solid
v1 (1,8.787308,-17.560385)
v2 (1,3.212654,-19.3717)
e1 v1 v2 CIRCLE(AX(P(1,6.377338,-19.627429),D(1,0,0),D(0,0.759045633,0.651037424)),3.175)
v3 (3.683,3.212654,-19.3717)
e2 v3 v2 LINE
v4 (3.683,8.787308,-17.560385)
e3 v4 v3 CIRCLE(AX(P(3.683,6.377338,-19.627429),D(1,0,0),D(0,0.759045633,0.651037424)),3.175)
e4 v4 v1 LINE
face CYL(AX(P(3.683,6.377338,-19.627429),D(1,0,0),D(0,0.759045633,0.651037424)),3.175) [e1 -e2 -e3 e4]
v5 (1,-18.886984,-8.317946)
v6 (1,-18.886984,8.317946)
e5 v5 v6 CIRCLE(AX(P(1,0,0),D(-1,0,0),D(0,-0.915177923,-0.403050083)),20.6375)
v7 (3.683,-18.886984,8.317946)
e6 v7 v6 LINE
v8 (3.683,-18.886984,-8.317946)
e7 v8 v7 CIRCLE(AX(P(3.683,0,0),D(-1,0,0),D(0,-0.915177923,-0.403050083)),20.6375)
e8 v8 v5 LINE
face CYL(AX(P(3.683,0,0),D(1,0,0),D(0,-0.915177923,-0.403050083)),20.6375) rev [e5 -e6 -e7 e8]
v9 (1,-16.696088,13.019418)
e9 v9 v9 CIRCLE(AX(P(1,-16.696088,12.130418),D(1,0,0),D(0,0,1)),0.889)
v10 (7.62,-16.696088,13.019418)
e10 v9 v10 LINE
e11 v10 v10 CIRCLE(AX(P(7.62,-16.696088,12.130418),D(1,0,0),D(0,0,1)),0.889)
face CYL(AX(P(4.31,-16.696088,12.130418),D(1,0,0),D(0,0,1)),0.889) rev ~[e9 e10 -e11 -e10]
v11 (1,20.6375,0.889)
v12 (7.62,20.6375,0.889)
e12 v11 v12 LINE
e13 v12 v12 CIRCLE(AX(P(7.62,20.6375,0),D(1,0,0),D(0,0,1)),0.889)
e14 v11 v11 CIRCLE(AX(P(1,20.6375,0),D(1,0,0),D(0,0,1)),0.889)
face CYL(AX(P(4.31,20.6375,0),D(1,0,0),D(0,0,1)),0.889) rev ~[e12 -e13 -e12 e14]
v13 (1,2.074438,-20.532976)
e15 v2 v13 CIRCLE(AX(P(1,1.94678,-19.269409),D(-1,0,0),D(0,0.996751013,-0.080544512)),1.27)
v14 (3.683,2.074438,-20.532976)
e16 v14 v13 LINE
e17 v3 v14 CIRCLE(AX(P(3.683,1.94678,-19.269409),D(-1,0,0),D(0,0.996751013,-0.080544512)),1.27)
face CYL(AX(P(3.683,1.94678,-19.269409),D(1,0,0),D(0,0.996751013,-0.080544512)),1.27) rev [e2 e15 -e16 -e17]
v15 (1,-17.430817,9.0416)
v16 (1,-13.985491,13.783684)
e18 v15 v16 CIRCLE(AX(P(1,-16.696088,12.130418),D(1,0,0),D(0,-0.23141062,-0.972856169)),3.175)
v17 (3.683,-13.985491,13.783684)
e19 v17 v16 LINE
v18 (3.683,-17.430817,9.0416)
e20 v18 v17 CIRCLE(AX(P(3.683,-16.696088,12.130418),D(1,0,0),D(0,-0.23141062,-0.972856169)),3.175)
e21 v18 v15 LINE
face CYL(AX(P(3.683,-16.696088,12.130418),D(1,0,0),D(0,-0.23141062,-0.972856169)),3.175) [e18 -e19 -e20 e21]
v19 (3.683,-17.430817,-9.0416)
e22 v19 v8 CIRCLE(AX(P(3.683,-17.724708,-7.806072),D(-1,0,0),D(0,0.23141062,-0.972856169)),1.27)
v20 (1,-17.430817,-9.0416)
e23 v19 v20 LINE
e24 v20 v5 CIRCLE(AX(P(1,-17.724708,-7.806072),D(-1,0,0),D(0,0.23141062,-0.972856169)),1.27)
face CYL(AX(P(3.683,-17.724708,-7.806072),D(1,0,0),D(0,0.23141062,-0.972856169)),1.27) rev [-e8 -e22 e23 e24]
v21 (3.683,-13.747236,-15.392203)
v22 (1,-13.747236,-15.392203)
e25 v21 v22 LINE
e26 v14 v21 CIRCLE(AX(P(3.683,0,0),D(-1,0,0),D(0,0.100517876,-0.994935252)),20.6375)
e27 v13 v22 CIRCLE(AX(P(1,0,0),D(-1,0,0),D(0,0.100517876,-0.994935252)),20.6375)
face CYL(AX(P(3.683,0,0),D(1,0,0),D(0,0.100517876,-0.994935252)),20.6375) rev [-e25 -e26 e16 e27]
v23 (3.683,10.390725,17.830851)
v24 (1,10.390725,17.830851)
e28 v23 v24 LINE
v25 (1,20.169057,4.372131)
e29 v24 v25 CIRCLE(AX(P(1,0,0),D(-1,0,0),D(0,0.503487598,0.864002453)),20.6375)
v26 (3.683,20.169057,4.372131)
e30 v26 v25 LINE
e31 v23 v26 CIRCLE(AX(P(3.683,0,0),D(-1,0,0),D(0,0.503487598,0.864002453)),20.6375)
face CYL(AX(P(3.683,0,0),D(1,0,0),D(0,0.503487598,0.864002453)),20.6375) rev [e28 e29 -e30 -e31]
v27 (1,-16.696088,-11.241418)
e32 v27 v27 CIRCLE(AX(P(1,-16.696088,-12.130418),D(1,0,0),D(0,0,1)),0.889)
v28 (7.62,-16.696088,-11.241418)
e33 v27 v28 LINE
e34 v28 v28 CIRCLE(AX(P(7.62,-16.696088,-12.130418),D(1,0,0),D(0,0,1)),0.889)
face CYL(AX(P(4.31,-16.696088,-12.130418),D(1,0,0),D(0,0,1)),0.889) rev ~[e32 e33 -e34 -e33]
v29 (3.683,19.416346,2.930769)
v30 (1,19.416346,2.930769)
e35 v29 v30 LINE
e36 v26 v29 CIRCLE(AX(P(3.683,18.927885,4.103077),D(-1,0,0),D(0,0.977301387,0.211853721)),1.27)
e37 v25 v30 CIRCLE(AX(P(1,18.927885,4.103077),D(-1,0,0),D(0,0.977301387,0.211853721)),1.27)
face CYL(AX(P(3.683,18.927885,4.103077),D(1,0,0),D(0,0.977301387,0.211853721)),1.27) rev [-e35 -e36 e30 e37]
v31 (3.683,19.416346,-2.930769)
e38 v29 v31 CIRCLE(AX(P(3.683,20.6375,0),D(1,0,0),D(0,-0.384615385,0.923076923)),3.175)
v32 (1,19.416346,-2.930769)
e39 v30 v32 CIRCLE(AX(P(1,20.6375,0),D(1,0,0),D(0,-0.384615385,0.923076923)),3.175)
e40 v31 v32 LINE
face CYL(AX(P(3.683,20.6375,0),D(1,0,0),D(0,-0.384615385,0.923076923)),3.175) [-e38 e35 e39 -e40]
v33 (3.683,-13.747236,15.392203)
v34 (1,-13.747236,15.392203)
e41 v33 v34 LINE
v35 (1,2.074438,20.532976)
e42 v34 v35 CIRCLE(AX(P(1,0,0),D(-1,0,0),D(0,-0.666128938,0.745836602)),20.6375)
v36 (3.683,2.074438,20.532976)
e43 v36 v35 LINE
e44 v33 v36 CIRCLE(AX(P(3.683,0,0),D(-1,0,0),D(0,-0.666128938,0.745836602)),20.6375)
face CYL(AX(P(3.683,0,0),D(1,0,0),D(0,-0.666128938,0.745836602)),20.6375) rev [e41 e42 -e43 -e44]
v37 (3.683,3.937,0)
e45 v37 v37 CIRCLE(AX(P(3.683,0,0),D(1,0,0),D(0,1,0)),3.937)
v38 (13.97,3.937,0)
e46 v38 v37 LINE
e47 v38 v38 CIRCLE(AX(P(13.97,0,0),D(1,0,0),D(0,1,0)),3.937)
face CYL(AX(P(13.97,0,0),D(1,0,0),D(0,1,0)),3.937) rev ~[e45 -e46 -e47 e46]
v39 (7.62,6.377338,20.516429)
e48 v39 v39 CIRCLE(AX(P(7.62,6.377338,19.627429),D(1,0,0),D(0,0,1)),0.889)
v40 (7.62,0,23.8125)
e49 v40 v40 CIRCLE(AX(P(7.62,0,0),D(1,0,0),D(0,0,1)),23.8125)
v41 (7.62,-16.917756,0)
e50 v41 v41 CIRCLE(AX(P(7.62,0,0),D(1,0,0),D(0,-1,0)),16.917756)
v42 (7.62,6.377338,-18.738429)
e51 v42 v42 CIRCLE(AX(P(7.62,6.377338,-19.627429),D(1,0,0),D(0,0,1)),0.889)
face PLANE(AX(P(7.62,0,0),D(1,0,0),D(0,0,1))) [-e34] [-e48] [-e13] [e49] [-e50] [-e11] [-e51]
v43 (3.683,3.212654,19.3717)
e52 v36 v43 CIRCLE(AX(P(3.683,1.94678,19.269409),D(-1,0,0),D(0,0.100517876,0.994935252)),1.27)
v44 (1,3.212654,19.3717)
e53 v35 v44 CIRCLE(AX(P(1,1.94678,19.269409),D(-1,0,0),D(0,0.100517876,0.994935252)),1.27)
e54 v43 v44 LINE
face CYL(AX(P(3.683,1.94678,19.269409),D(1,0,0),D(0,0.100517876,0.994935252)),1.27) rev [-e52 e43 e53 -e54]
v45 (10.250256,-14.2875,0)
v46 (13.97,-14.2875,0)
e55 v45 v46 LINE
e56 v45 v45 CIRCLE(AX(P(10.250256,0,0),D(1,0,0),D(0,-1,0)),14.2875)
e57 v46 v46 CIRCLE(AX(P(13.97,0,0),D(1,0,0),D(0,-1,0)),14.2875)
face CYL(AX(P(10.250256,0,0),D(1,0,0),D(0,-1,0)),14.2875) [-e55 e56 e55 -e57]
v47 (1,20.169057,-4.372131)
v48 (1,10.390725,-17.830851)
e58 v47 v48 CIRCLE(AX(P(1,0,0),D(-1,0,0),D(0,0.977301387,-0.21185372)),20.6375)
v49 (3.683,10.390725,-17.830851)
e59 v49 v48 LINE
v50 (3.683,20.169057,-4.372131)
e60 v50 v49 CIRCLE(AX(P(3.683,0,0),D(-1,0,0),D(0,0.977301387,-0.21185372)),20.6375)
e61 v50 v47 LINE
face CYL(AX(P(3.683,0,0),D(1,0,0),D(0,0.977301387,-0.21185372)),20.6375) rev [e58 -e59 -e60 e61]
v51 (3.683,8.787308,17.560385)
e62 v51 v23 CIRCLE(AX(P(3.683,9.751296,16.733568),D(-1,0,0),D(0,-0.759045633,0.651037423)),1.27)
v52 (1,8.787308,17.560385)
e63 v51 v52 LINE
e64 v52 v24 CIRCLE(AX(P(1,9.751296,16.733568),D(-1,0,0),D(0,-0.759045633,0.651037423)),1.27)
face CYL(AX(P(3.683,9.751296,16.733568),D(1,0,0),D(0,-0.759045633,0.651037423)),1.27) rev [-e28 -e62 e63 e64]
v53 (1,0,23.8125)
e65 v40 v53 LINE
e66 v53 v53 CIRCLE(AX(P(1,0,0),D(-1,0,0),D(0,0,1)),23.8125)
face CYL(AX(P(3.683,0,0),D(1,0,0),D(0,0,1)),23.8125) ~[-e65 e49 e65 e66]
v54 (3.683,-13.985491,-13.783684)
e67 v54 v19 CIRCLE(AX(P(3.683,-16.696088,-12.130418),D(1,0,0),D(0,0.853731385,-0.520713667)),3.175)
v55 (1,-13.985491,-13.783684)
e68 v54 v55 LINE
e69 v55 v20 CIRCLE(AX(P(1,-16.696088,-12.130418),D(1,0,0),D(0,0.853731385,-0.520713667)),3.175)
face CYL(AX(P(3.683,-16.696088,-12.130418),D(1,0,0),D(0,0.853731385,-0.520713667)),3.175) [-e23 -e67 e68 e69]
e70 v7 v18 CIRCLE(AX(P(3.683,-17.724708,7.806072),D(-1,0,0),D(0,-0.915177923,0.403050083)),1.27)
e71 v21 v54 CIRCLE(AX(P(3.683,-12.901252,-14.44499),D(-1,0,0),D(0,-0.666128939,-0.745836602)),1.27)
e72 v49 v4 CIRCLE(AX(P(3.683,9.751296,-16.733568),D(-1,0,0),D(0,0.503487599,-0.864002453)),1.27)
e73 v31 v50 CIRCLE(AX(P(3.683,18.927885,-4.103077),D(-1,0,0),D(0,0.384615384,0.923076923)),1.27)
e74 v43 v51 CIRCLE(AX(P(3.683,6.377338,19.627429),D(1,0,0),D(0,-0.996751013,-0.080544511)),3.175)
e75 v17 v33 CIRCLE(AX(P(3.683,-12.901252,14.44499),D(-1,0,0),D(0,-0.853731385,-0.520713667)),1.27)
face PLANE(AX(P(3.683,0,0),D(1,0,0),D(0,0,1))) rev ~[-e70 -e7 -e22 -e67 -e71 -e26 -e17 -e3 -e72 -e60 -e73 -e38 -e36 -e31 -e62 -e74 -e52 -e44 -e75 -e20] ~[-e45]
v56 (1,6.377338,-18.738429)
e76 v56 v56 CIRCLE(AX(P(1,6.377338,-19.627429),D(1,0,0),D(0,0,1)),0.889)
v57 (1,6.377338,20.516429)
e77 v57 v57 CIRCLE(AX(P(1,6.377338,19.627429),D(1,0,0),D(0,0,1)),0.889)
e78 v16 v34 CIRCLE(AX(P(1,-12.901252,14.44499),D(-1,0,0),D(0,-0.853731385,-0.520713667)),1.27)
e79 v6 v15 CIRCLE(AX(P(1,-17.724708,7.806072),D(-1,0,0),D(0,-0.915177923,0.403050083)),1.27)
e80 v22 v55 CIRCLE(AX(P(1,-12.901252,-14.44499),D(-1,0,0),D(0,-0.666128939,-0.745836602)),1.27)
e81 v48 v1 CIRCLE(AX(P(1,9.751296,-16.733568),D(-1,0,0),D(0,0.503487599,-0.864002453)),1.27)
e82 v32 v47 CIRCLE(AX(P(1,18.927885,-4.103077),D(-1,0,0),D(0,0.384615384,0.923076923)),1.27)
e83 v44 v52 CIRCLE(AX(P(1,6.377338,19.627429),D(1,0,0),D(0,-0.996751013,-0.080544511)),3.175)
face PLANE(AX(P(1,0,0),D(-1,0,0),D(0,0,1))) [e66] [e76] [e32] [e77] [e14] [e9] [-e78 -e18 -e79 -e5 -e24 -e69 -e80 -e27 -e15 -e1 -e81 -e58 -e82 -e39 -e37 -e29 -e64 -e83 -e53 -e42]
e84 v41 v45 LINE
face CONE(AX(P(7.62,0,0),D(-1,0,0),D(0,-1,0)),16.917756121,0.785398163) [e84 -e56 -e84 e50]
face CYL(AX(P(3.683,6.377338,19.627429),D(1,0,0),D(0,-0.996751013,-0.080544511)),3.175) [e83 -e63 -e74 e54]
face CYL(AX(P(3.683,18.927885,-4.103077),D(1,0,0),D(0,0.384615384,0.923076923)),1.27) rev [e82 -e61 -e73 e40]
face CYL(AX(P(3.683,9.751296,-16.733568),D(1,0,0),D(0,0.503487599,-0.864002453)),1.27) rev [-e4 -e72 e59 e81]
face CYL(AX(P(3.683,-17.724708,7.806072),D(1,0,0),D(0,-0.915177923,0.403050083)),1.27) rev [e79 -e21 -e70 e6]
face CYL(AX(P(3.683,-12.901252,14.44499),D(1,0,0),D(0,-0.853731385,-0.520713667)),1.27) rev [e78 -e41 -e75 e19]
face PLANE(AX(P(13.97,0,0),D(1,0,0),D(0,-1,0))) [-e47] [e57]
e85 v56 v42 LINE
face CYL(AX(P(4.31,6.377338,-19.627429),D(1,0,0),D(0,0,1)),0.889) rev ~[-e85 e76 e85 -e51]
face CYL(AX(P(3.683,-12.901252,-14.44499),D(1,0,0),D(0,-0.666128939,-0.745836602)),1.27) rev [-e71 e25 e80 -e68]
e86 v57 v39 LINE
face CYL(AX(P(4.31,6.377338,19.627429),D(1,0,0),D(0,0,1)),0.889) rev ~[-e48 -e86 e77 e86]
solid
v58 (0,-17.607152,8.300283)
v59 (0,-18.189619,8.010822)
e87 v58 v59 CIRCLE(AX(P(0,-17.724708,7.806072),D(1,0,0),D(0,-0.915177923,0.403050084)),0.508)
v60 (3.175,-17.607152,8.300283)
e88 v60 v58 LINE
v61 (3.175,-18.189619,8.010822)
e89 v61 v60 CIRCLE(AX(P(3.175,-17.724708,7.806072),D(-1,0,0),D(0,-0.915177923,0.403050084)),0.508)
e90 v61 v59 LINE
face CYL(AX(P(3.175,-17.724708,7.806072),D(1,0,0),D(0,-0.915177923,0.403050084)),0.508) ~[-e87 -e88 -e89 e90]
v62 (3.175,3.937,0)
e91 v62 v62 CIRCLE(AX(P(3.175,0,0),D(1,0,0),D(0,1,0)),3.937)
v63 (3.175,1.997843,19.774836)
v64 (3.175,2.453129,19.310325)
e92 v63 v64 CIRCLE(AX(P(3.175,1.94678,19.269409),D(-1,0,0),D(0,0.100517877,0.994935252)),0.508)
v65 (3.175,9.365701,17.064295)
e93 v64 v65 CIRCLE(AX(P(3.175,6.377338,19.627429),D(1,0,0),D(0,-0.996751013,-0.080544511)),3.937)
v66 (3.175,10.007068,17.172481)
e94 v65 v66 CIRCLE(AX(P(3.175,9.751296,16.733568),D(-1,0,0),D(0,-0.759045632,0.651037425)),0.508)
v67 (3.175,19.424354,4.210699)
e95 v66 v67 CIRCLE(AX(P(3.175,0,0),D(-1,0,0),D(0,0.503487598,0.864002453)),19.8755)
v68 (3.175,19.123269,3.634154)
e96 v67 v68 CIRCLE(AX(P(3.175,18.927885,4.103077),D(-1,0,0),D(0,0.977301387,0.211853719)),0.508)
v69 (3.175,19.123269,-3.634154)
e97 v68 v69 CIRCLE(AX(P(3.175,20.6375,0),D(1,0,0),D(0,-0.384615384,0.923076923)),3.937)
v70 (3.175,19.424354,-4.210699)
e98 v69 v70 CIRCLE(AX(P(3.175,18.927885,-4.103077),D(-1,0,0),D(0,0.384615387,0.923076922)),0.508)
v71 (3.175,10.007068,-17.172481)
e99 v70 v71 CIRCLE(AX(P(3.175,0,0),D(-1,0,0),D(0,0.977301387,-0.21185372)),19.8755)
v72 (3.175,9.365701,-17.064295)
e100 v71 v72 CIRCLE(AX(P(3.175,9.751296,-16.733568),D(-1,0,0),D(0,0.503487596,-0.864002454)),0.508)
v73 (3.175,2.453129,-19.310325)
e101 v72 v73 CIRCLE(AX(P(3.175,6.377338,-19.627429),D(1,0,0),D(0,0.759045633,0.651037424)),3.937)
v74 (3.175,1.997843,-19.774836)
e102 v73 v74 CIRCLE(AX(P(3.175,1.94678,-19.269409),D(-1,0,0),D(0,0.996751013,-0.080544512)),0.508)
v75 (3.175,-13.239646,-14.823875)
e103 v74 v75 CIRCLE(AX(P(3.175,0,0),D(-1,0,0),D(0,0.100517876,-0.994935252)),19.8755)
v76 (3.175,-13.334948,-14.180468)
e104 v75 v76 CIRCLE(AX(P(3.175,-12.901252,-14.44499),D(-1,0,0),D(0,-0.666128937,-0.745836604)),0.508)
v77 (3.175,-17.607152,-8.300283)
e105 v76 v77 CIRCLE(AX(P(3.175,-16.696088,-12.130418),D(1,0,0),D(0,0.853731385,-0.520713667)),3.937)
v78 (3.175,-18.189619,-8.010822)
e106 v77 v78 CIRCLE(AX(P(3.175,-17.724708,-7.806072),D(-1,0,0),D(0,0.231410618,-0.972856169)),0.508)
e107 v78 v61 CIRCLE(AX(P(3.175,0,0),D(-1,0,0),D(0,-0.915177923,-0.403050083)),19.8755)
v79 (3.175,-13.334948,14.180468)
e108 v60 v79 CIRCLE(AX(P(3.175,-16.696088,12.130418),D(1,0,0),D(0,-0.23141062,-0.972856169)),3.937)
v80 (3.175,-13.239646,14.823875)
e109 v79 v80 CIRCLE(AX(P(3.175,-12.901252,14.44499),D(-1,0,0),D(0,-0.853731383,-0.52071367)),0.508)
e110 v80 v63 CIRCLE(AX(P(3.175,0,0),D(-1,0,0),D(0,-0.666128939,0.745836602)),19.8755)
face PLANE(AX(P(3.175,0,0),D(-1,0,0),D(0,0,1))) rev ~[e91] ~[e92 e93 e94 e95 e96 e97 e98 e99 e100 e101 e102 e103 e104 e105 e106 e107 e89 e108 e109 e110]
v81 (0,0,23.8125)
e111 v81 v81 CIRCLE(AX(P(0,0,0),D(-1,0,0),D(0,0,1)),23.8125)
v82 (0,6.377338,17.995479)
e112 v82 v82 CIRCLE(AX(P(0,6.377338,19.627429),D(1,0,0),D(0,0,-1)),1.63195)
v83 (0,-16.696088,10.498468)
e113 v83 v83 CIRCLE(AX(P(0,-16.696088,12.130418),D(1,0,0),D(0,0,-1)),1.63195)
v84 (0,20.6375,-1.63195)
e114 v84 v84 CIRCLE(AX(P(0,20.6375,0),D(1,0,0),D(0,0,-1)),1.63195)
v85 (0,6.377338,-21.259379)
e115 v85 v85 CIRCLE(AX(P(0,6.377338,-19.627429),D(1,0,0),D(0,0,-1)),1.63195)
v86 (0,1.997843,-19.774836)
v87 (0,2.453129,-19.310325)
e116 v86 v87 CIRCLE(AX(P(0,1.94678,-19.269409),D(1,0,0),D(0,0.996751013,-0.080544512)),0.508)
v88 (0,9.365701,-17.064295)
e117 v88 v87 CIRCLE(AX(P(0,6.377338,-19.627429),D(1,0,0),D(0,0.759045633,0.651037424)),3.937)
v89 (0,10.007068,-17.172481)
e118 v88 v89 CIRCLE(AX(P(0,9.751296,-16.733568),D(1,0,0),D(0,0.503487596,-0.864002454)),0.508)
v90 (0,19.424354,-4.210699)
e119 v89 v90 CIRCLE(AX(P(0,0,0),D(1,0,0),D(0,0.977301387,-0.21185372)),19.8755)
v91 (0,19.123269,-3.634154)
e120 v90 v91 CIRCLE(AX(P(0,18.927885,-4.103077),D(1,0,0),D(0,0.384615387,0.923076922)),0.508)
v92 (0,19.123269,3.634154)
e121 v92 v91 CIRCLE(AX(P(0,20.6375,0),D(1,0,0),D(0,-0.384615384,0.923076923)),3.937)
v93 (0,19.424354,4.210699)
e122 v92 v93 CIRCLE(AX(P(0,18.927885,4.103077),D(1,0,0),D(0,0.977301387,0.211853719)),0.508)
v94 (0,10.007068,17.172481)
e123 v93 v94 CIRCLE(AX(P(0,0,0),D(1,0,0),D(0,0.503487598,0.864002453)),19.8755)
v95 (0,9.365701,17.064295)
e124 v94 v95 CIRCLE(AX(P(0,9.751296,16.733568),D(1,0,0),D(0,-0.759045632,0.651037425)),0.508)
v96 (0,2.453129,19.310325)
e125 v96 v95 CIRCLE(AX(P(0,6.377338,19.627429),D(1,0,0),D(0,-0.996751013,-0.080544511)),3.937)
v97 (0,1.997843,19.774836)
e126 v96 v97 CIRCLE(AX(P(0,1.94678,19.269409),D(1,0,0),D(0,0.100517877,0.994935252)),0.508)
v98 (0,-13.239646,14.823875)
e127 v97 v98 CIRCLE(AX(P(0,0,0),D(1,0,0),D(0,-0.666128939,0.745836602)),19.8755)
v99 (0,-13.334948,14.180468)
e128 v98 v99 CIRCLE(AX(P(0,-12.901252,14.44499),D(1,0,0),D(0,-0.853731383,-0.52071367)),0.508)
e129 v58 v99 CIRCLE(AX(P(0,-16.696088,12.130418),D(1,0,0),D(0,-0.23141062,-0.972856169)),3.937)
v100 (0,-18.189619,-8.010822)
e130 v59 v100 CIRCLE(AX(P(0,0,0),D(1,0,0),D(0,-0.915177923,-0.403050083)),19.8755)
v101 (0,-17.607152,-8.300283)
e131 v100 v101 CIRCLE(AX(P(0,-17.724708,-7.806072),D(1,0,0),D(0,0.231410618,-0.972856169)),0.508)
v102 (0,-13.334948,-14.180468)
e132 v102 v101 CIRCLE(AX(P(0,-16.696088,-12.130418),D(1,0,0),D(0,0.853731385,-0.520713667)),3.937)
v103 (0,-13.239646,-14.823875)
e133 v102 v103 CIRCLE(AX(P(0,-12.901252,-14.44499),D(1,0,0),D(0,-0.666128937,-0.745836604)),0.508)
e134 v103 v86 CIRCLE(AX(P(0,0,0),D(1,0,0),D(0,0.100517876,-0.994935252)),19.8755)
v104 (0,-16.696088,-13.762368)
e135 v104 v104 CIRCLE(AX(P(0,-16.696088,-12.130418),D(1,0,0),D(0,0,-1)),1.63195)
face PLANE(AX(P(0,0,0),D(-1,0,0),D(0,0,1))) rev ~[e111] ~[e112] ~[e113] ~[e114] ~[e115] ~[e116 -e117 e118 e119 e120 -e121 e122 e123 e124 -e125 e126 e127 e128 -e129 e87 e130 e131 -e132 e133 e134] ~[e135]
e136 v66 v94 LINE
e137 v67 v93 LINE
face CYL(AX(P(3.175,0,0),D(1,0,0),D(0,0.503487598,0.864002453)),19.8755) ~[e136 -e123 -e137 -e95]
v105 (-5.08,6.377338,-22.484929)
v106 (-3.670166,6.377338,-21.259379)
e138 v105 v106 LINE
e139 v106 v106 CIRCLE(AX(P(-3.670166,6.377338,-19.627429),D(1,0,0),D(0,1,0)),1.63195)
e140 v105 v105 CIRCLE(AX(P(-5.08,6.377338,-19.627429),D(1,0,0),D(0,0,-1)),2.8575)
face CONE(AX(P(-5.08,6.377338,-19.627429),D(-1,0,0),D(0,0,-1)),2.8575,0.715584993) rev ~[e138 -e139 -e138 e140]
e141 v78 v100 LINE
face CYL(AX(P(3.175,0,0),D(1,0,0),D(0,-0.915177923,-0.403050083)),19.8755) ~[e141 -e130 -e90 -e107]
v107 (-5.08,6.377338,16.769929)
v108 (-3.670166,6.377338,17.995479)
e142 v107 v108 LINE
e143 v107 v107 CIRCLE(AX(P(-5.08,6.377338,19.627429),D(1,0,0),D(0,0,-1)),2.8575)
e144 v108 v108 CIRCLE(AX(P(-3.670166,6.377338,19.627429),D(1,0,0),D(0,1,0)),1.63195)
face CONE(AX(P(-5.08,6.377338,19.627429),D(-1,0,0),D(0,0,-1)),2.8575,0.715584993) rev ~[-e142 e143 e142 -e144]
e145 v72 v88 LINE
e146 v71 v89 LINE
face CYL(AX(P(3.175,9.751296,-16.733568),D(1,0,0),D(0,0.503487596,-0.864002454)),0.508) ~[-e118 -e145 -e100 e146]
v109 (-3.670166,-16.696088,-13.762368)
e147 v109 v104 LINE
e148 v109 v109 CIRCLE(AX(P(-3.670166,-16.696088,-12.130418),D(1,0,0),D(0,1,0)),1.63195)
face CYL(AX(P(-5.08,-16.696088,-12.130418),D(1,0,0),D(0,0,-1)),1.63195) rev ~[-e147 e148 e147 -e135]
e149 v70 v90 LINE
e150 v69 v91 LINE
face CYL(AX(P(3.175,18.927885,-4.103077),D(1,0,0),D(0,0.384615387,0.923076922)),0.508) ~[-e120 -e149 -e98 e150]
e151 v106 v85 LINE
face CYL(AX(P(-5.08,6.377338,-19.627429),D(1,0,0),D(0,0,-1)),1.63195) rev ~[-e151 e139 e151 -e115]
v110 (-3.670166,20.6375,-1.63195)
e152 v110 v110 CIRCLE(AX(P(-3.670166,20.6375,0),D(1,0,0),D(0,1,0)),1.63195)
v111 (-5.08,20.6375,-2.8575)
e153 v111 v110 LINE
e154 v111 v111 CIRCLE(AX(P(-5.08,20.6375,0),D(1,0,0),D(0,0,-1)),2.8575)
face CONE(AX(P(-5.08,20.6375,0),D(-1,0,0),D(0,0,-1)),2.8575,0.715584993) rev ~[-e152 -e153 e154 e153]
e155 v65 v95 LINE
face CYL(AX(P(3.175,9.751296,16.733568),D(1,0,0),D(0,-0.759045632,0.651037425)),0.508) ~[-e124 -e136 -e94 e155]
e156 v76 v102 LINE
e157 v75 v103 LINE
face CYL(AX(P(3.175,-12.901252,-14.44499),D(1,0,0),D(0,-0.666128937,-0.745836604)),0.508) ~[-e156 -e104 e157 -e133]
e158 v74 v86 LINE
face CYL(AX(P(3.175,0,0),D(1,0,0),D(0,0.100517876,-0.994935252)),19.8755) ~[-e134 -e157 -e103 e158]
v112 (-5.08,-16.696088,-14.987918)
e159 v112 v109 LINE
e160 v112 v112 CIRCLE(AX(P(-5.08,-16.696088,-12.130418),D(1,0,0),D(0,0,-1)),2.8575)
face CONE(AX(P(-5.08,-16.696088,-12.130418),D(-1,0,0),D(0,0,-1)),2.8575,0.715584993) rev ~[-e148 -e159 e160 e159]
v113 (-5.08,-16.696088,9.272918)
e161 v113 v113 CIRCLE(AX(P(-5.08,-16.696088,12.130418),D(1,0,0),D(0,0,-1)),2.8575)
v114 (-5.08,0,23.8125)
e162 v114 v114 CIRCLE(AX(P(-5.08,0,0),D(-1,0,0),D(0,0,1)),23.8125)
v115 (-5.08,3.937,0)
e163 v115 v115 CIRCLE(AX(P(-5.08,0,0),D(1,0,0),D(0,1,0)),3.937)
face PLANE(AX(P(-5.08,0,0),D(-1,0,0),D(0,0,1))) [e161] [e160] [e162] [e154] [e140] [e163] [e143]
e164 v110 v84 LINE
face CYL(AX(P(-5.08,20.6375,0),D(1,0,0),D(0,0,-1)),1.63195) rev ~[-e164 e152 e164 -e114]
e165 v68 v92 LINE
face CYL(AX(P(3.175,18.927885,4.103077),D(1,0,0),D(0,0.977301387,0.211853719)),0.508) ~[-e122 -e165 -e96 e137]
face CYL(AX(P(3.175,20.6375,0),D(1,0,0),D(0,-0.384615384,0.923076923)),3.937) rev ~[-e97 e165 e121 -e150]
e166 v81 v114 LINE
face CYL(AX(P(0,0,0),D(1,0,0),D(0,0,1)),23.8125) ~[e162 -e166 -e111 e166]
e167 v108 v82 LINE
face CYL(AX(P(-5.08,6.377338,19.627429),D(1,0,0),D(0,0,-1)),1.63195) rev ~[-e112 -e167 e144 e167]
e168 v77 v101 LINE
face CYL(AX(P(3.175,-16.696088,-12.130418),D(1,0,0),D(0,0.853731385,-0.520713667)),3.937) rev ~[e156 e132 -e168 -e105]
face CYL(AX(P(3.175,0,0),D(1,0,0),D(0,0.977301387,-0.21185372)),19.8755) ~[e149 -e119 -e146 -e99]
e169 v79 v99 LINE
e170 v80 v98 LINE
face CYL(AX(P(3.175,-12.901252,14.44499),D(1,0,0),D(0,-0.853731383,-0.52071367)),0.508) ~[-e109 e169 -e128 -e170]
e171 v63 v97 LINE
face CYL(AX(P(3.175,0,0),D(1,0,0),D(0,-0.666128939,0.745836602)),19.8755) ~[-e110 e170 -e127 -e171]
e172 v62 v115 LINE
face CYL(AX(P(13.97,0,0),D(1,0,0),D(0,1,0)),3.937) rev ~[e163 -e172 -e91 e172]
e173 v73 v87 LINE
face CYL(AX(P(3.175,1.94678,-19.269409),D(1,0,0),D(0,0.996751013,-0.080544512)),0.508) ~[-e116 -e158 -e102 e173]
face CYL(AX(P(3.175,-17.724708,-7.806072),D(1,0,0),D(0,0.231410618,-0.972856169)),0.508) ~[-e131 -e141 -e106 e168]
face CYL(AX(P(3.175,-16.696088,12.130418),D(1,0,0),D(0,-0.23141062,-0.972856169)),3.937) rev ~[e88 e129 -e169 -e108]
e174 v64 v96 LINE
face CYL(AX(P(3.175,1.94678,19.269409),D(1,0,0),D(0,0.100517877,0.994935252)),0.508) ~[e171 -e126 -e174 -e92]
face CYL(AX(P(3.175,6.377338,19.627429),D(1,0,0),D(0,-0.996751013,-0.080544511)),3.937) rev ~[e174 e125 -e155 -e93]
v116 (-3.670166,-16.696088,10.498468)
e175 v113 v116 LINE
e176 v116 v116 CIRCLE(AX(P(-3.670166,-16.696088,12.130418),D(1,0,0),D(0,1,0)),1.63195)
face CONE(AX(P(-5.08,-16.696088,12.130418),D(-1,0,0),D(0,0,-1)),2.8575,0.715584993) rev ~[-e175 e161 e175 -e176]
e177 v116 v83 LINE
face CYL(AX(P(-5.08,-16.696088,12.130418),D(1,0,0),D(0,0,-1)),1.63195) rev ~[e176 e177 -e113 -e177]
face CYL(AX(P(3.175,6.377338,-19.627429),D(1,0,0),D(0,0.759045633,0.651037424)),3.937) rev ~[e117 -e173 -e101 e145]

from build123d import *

# Parameters (mm, degrees)
SKETCH2_R                                      = 23.8125
SKETCH2_R_2                                    = 1.4732
BOSS_EXTRUDE1_DEPTH                            = 5.08
CSK_FOR_4_FLAT_HEAD_MACHINE_SCREW1_D           = 3.2639
CSK_FOR_4_FLAT_HEAD_MACHINE_SCREW1_CSINK_D     = 5.715
CSK_FOR_4_FLAT_HEAD_MACHINE_SCREW1_CSINK_ANGLE = 82
BOSS_EXTRUDE2_DEPTH                            = 5.08
BOSS_EXTRUDE2_DEPTH_BACK                       = 3.175
BOSS_EXTRUDE3_START                            = 0.508
SKETCH5_R                                      = 23.8125
BOSS_EXTRUDE3_DEPTH                            = 3.937
SKETCH6_R                                      = 23.8125
BOSS_EXTRUDE4_DEPTH                            = 2.682999968
SKETCH13_W                                     = 0.889
SKETCH13_H                                     = 6.619999968
F_50_0_07_DIAMETER_HOLE1_AT_2_COUNT            = 2
F_50_0_07_DIAMETER_HOLE1_AT_2_PITCH            = 24.260836288
F_50_0_07_DIAMETER_HOLE1_AT_3_COUNT            = 2
F_50_0_07_DIAMETER_HOLE1_AT_3_PITCH            = 39.25485771
F_50_0_07_DIAMETER_HOLE1_AT_4_COUNT            = 2
F_50_0_07_DIAMETER_HOLE1_AT_4_PITCH            = 39.25485771
F_50_0_07_DIAMETER_HOLE1_AT_5_COUNT            = 2
F_50_0_07_DIAMETER_HOLE1_AT_5_PITCH            = 24.260836288
SKETCH15_R                                     = 3.937
CUT_EXTRUDE1_DEPTH                             = 39.690732902


with BuildPart() as part:
    # Sketch2 → Boss-Extrude1 (new body)
    with BuildSketch(Plane.ZY):
        Circle(SKETCH2_R)
        with Locations((19.627428855, 6.377338221)):
            Circle(SKETCH2_R_2, mode=Mode.SUBTRACT)
        with Locations((12.130418144, -16.696088221)):
            Circle(SKETCH2_R_2, mode=Mode.SUBTRACT)
        with Locations((-12.130418144, -16.696088221)):
            Circle(SKETCH2_R_2, mode=Mode.SUBTRACT)
        with Locations((-19.627428855, 6.377338221)):
            Circle(SKETCH2_R_2, mode=Mode.SUBTRACT)
        with Locations((0, 20.6375)):
            Circle(SKETCH2_R_2, mode=Mode.SUBTRACT)
    extrude(amount=BOSS_EXTRUDE1_DEPTH)

    # CSK for #4 Flat Head Machine Screw1 (through all)
    with Locations(Plane.ZY.offset(5.08)):
        with Locations((0, 20.6375), (-19.627428855, 6.377338221), (-12.130418144, -16.696088221), (12.130418144, -16.696088221), (19.627428855, 6.377338221)):
            CounterSinkHole(CSK_FOR_4_FLAT_HEAD_MACHINE_SCREW1_D / 2, CSK_FOR_4_FLAT_HEAD_MACHINE_SCREW1_CSINK_D / 2, counter_sink_angle=CSK_FOR_4_FLAT_HEAD_MACHINE_SCREW1_CSINK_ANGLE)

    # Sketch1 → Boss-Extrude2 (add, two sides: drawn at the far end of the back side and taken through both)
    with BuildSketch(Plane.ZY.offset(-BOSS_EXTRUDE2_DEPTH_BACK)):
        with BuildLine():
            ThreePointArc((-19.77483561, 1.99784305), (-18.90272379, -6.141867272), (-14.823875388, -13.239645718))
            ThreePointArc((-14.823875388, -13.239645718), (-14.519423669, -13.403769568), (-14.180467851, -13.33494776))
            ThreePointArc((-14.180467851, -13.33494776), (-9.816307606, -13.510988315), (-8.300283408, -17.607151831))
            ThreePointArc((-8.300283408, -17.607151831), (-8.260993728, -17.950785078), (-8.010821916, -18.189618811))
            ThreePointArc((-8.010821916, -18.189618811), (0, -19.8755), (8.010821916, -18.189618811))
            ThreePointArc((8.010821916, -18.189618811), (8.260993728, -17.950785078), (8.300283408, -17.607151831))
            ThreePointArc((8.300283408, -17.607151831), (9.816307606, -13.510988315), (14.180467851, -13.33494776))
            ThreePointArc((14.180467851, -13.33494776), (14.519423669, -13.403769568), (14.823875388, -13.239645718))
            ThreePointArc((14.823875388, -13.239645718), (18.90272379, -6.141867272), (19.77483561, 1.99784305))
            ThreePointArc((19.77483561, 1.99784305), (19.624998573, 2.309574265), (19.310325113, 2.453129484))
            ThreePointArc((19.310325113, 2.453129484), (15.88311935, 5.160738315), (17.064294516, 9.365700877))
            ThreePointArc((17.064294516, 9.365700877), (17.234491052, 9.666799908), (17.172480751, 10.007067758))
            ThreePointArc((17.172480751, 10.007067758), (11.682525782, 16.079617272), (4.210698613, 19.42435372))
            ThreePointArc((4.210698613, 19.42435372), (3.86792242, 19.378180473), (3.634153846, 19.123269231))
            ThreePointArc((3.634153846, 19.123269231), (0, 16.7005), (-3.634153846, 19.123269231))
            ThreePointArc((-3.634153846, 19.123269231), (-3.86792242, 19.378180473), (-4.210698613, 19.42435372))
            ThreePointArc((-4.210698613, 19.42435372), (-11.682525782, 16.079617272), (-17.172480751, 10.007067758))
            ThreePointArc((-17.172480751, 10.007067758), (-17.234491052, 9.666799908), (-17.064294516, 9.365700877))
            ThreePointArc((-17.064294516, 9.365700877), (-15.88311935, 5.160738315), (-19.310325113, 2.453129484))
            ThreePointArc((-19.310325113, 2.453129484), (-19.624998573, 2.309574265), (-19.77483561, 1.99784305))
        make_face()
    extrude(amount=BOSS_EXTRUDE2_DEPTH + BOSS_EXTRUDE2_DEPTH_BACK)


with BuildPart() as body_2:
    # Sketch5 → Boss-Extrude3 (new body)
    with BuildSketch(Plane(origin=(3.175, 0, 0), x_dir=(0, 0, -1), z_dir=(1, 0, 0)).offset(BOSS_EXTRUDE3_START)):
        with Locations(Location((0, 0, 0), (0, 0, 180))):
            Circle(SKETCH5_R)
    extrude(amount=BOSS_EXTRUDE3_DEPTH)

    # Sketch6 → Boss-Extrude4 (add)
    with BuildSketch(Plane.ZY.offset(-3.683)):
        Circle(SKETCH6_R)
        with BuildLine():
            ThreePointArc((-4.372131148, 20.169057377), (-12.130418144, 16.696088221), (-17.83085062, 10.390725308))
            ThreePointArc((-17.83085062, 10.390725308), (-17.985876374, 9.540055682), (-17.560385033, 8.787308105))
            ThreePointArc((-17.560385033, 8.787308105), (-16.607824416, 5.396209264), (-19.371700031, 3.212653756))
            ThreePointArc((-19.371700031, 3.212653756), (-20.158383681, 2.853765708), (-20.532976272, 2.074437672))
            ThreePointArc((-20.532976272, 2.074437672), (-19.627428855, -6.377338221), (-15.392202879, -13.747235969))
            ThreePointArc((-15.392202879, -13.747235969), (-14.631073581, -14.157545593), (-13.783684037, -13.985491075))
            ThreePointArc((-13.783684037, -13.985491075), (-10.264199968, -14.127459264), (-9.041599808, -17.430816939))
            ThreePointArc((-9.041599808, -17.430816939), (-8.943375609, -18.289900056), (-8.317946079, -18.886984388))
            ThreePointArc((-8.317946079, -18.886984388), (0, -20.6375), (8.317946079, -18.886984388))
            ThreePointArc((8.317946079, -18.886984388), (8.943375609, -18.289900056), (9.041599808, -17.430816939))
            ThreePointArc((9.041599808, -17.430816939), (10.264199968, -14.127459264), (13.783684037, -13.985491075))
            ThreePointArc((13.783684037, -13.985491075), (14.631073581, -14.157545593), (15.392202879, -13.747235969))
            ThreePointArc((15.392202879, -13.747235969), (19.627428855, -6.377338221), (20.532976272, 2.074437672))
            ThreePointArc((20.532976272, 2.074437672), (20.158383681, 2.853765708), (19.371700031, 3.212653756))
            ThreePointArc((19.371700031, 3.212653756), (16.607824416, 5.396209264), (17.560385033, 8.787308105))
            ThreePointArc((17.560385033, 8.787308105), (17.985876374, 9.540055682), (17.83085062, 10.390725308))
            ThreePointArc((17.83085062, 10.390725308), (12.130418144, 16.696088221), (4.372131148, 20.169057377))
            ThreePointArc((4.372131148, 20.169057377), (3.515190664, 20.05362426), (2.930769231, 19.416346154))
            ThreePointArc((2.930769231, 19.416346154), (0, 17.4625), (-2.930769231, 19.416346154))
            ThreePointArc((-2.930769231, 19.416346154), (-3.515190664, 20.05362426), (-4.372131148, 20.169057377))
        make_face(mode=Mode.SUBTRACT)
    extrude(amount=BOSS_EXTRUDE4_DEPTH)

    # Sketch13 → #50 (0.07) Diameter Hole1 (revolve, cut)
    with BuildSketch(Plane(origin=(1.000000032, 20.6375, 0), x_dir=(0, 0, 1), z_dir=(0, 1, 0))):
        with Locations((0.4445, 3.309999984)):
            Rectangle(SKETCH13_W, SKETCH13_H)
    f_50_0_07_diameter_hole1 = revolve(axis=Axis((-5.349999968, 20.6375, 0), (1, 0, 0)), mode=Mode.SUBTRACT)

    # #50 (0.07) Diameter Hole1 at 2: #50 (0.07) Diameter Hole1 ×2
    with Locations(*[Vector(0, -0.5877852522924741, 0.8090169943749466) * (i * F_50_0_07_DIAMETER_HOLE1_AT_2_PITCH) for i in range(1, F_50_0_07_DIAMETER_HOLE1_AT_2_COUNT)]):
        add(f_50_0_07_diameter_hole1, mode=Mode.SUBTRACT)

    # #50 (0.07) Diameter Hole1 at 3: #50 (0.07) Diameter Hole1 ×2
    with Locations(*[Vector(0, -0.9510565162951545, 0.30901699437494473) * (i * F_50_0_07_DIAMETER_HOLE1_AT_3_PITCH) for i in range(1, F_50_0_07_DIAMETER_HOLE1_AT_3_COUNT)]):
        add(f_50_0_07_diameter_hole1, mode=Mode.SUBTRACT)

    # #50 (0.07) Diameter Hole1 at 4: #50 (0.07) Diameter Hole1 ×2
    with Locations(*[Vector(0, -0.9510565162951522, -0.3090169943749516) * (i * F_50_0_07_DIAMETER_HOLE1_AT_4_PITCH) for i in range(1, F_50_0_07_DIAMETER_HOLE1_AT_4_COUNT)]):
        add(f_50_0_07_diameter_hole1, mode=Mode.SUBTRACT)

    # #50 (0.07) Diameter Hole1 at 5: #50 (0.07) Diameter Hole1 ×2
    with Locations(*[Vector(0, -0.5877852522924685, -0.8090169943749508) * (i * F_50_0_07_DIAMETER_HOLE1_AT_5_PITCH) for i in range(1, F_50_0_07_DIAMETER_HOLE1_AT_5_COUNT)]):
        add(f_50_0_07_diameter_hole1, mode=Mode.SUBTRACT)

    # Sketch14 → Revolve1 (revolve)
    with BuildSketch(Plane.XY, mode=Mode.PRIVATE) as revolve1_sk:
        Polygon((7.62, 0), (7.62, 16.917756121), (10.250256121, 14.2875), (13.97, 14.2875), (13.97, 0), align=None)
    revolve(revolve1_sk.sketch.rotate(Axis((13.97, 0, 0), (1, 0, 0)), 180), axis=Axis((13.97, 0, 0), (1, 0, 0)))


with BuildPart() as cut_extrude1_tool:
    # Sketch15 → Cut-Extrude1 (new, through all)
    with BuildSketch(Plane(origin=(13.97, 0, 0), x_dir=(0, 0, -1), z_dir=(1, 0, 0))):
        with Locations(Location((0, 0, 0), (0, 0, 90))):
            Circle(SKETCH15_R)
    extrude(amount=-CUT_EXTRUDE1_DEPTH)


with BuildPart() as part_1:
    add(part.part)

    # Cut-Extrude1: cut by cut_extrude1_tool
    add(cut_extrude1_tool.part, mode=Mode.SUBTRACT)


with BuildPart() as body_2_1:
    add(body_2.part)

    # Cut-Extrude1: cut by cut_extrude1_tool
    add(cut_extrude1_tool.part, mode=Mode.SUBTRACT)


solid = Compound([part_1.part, body_2_1.part])
